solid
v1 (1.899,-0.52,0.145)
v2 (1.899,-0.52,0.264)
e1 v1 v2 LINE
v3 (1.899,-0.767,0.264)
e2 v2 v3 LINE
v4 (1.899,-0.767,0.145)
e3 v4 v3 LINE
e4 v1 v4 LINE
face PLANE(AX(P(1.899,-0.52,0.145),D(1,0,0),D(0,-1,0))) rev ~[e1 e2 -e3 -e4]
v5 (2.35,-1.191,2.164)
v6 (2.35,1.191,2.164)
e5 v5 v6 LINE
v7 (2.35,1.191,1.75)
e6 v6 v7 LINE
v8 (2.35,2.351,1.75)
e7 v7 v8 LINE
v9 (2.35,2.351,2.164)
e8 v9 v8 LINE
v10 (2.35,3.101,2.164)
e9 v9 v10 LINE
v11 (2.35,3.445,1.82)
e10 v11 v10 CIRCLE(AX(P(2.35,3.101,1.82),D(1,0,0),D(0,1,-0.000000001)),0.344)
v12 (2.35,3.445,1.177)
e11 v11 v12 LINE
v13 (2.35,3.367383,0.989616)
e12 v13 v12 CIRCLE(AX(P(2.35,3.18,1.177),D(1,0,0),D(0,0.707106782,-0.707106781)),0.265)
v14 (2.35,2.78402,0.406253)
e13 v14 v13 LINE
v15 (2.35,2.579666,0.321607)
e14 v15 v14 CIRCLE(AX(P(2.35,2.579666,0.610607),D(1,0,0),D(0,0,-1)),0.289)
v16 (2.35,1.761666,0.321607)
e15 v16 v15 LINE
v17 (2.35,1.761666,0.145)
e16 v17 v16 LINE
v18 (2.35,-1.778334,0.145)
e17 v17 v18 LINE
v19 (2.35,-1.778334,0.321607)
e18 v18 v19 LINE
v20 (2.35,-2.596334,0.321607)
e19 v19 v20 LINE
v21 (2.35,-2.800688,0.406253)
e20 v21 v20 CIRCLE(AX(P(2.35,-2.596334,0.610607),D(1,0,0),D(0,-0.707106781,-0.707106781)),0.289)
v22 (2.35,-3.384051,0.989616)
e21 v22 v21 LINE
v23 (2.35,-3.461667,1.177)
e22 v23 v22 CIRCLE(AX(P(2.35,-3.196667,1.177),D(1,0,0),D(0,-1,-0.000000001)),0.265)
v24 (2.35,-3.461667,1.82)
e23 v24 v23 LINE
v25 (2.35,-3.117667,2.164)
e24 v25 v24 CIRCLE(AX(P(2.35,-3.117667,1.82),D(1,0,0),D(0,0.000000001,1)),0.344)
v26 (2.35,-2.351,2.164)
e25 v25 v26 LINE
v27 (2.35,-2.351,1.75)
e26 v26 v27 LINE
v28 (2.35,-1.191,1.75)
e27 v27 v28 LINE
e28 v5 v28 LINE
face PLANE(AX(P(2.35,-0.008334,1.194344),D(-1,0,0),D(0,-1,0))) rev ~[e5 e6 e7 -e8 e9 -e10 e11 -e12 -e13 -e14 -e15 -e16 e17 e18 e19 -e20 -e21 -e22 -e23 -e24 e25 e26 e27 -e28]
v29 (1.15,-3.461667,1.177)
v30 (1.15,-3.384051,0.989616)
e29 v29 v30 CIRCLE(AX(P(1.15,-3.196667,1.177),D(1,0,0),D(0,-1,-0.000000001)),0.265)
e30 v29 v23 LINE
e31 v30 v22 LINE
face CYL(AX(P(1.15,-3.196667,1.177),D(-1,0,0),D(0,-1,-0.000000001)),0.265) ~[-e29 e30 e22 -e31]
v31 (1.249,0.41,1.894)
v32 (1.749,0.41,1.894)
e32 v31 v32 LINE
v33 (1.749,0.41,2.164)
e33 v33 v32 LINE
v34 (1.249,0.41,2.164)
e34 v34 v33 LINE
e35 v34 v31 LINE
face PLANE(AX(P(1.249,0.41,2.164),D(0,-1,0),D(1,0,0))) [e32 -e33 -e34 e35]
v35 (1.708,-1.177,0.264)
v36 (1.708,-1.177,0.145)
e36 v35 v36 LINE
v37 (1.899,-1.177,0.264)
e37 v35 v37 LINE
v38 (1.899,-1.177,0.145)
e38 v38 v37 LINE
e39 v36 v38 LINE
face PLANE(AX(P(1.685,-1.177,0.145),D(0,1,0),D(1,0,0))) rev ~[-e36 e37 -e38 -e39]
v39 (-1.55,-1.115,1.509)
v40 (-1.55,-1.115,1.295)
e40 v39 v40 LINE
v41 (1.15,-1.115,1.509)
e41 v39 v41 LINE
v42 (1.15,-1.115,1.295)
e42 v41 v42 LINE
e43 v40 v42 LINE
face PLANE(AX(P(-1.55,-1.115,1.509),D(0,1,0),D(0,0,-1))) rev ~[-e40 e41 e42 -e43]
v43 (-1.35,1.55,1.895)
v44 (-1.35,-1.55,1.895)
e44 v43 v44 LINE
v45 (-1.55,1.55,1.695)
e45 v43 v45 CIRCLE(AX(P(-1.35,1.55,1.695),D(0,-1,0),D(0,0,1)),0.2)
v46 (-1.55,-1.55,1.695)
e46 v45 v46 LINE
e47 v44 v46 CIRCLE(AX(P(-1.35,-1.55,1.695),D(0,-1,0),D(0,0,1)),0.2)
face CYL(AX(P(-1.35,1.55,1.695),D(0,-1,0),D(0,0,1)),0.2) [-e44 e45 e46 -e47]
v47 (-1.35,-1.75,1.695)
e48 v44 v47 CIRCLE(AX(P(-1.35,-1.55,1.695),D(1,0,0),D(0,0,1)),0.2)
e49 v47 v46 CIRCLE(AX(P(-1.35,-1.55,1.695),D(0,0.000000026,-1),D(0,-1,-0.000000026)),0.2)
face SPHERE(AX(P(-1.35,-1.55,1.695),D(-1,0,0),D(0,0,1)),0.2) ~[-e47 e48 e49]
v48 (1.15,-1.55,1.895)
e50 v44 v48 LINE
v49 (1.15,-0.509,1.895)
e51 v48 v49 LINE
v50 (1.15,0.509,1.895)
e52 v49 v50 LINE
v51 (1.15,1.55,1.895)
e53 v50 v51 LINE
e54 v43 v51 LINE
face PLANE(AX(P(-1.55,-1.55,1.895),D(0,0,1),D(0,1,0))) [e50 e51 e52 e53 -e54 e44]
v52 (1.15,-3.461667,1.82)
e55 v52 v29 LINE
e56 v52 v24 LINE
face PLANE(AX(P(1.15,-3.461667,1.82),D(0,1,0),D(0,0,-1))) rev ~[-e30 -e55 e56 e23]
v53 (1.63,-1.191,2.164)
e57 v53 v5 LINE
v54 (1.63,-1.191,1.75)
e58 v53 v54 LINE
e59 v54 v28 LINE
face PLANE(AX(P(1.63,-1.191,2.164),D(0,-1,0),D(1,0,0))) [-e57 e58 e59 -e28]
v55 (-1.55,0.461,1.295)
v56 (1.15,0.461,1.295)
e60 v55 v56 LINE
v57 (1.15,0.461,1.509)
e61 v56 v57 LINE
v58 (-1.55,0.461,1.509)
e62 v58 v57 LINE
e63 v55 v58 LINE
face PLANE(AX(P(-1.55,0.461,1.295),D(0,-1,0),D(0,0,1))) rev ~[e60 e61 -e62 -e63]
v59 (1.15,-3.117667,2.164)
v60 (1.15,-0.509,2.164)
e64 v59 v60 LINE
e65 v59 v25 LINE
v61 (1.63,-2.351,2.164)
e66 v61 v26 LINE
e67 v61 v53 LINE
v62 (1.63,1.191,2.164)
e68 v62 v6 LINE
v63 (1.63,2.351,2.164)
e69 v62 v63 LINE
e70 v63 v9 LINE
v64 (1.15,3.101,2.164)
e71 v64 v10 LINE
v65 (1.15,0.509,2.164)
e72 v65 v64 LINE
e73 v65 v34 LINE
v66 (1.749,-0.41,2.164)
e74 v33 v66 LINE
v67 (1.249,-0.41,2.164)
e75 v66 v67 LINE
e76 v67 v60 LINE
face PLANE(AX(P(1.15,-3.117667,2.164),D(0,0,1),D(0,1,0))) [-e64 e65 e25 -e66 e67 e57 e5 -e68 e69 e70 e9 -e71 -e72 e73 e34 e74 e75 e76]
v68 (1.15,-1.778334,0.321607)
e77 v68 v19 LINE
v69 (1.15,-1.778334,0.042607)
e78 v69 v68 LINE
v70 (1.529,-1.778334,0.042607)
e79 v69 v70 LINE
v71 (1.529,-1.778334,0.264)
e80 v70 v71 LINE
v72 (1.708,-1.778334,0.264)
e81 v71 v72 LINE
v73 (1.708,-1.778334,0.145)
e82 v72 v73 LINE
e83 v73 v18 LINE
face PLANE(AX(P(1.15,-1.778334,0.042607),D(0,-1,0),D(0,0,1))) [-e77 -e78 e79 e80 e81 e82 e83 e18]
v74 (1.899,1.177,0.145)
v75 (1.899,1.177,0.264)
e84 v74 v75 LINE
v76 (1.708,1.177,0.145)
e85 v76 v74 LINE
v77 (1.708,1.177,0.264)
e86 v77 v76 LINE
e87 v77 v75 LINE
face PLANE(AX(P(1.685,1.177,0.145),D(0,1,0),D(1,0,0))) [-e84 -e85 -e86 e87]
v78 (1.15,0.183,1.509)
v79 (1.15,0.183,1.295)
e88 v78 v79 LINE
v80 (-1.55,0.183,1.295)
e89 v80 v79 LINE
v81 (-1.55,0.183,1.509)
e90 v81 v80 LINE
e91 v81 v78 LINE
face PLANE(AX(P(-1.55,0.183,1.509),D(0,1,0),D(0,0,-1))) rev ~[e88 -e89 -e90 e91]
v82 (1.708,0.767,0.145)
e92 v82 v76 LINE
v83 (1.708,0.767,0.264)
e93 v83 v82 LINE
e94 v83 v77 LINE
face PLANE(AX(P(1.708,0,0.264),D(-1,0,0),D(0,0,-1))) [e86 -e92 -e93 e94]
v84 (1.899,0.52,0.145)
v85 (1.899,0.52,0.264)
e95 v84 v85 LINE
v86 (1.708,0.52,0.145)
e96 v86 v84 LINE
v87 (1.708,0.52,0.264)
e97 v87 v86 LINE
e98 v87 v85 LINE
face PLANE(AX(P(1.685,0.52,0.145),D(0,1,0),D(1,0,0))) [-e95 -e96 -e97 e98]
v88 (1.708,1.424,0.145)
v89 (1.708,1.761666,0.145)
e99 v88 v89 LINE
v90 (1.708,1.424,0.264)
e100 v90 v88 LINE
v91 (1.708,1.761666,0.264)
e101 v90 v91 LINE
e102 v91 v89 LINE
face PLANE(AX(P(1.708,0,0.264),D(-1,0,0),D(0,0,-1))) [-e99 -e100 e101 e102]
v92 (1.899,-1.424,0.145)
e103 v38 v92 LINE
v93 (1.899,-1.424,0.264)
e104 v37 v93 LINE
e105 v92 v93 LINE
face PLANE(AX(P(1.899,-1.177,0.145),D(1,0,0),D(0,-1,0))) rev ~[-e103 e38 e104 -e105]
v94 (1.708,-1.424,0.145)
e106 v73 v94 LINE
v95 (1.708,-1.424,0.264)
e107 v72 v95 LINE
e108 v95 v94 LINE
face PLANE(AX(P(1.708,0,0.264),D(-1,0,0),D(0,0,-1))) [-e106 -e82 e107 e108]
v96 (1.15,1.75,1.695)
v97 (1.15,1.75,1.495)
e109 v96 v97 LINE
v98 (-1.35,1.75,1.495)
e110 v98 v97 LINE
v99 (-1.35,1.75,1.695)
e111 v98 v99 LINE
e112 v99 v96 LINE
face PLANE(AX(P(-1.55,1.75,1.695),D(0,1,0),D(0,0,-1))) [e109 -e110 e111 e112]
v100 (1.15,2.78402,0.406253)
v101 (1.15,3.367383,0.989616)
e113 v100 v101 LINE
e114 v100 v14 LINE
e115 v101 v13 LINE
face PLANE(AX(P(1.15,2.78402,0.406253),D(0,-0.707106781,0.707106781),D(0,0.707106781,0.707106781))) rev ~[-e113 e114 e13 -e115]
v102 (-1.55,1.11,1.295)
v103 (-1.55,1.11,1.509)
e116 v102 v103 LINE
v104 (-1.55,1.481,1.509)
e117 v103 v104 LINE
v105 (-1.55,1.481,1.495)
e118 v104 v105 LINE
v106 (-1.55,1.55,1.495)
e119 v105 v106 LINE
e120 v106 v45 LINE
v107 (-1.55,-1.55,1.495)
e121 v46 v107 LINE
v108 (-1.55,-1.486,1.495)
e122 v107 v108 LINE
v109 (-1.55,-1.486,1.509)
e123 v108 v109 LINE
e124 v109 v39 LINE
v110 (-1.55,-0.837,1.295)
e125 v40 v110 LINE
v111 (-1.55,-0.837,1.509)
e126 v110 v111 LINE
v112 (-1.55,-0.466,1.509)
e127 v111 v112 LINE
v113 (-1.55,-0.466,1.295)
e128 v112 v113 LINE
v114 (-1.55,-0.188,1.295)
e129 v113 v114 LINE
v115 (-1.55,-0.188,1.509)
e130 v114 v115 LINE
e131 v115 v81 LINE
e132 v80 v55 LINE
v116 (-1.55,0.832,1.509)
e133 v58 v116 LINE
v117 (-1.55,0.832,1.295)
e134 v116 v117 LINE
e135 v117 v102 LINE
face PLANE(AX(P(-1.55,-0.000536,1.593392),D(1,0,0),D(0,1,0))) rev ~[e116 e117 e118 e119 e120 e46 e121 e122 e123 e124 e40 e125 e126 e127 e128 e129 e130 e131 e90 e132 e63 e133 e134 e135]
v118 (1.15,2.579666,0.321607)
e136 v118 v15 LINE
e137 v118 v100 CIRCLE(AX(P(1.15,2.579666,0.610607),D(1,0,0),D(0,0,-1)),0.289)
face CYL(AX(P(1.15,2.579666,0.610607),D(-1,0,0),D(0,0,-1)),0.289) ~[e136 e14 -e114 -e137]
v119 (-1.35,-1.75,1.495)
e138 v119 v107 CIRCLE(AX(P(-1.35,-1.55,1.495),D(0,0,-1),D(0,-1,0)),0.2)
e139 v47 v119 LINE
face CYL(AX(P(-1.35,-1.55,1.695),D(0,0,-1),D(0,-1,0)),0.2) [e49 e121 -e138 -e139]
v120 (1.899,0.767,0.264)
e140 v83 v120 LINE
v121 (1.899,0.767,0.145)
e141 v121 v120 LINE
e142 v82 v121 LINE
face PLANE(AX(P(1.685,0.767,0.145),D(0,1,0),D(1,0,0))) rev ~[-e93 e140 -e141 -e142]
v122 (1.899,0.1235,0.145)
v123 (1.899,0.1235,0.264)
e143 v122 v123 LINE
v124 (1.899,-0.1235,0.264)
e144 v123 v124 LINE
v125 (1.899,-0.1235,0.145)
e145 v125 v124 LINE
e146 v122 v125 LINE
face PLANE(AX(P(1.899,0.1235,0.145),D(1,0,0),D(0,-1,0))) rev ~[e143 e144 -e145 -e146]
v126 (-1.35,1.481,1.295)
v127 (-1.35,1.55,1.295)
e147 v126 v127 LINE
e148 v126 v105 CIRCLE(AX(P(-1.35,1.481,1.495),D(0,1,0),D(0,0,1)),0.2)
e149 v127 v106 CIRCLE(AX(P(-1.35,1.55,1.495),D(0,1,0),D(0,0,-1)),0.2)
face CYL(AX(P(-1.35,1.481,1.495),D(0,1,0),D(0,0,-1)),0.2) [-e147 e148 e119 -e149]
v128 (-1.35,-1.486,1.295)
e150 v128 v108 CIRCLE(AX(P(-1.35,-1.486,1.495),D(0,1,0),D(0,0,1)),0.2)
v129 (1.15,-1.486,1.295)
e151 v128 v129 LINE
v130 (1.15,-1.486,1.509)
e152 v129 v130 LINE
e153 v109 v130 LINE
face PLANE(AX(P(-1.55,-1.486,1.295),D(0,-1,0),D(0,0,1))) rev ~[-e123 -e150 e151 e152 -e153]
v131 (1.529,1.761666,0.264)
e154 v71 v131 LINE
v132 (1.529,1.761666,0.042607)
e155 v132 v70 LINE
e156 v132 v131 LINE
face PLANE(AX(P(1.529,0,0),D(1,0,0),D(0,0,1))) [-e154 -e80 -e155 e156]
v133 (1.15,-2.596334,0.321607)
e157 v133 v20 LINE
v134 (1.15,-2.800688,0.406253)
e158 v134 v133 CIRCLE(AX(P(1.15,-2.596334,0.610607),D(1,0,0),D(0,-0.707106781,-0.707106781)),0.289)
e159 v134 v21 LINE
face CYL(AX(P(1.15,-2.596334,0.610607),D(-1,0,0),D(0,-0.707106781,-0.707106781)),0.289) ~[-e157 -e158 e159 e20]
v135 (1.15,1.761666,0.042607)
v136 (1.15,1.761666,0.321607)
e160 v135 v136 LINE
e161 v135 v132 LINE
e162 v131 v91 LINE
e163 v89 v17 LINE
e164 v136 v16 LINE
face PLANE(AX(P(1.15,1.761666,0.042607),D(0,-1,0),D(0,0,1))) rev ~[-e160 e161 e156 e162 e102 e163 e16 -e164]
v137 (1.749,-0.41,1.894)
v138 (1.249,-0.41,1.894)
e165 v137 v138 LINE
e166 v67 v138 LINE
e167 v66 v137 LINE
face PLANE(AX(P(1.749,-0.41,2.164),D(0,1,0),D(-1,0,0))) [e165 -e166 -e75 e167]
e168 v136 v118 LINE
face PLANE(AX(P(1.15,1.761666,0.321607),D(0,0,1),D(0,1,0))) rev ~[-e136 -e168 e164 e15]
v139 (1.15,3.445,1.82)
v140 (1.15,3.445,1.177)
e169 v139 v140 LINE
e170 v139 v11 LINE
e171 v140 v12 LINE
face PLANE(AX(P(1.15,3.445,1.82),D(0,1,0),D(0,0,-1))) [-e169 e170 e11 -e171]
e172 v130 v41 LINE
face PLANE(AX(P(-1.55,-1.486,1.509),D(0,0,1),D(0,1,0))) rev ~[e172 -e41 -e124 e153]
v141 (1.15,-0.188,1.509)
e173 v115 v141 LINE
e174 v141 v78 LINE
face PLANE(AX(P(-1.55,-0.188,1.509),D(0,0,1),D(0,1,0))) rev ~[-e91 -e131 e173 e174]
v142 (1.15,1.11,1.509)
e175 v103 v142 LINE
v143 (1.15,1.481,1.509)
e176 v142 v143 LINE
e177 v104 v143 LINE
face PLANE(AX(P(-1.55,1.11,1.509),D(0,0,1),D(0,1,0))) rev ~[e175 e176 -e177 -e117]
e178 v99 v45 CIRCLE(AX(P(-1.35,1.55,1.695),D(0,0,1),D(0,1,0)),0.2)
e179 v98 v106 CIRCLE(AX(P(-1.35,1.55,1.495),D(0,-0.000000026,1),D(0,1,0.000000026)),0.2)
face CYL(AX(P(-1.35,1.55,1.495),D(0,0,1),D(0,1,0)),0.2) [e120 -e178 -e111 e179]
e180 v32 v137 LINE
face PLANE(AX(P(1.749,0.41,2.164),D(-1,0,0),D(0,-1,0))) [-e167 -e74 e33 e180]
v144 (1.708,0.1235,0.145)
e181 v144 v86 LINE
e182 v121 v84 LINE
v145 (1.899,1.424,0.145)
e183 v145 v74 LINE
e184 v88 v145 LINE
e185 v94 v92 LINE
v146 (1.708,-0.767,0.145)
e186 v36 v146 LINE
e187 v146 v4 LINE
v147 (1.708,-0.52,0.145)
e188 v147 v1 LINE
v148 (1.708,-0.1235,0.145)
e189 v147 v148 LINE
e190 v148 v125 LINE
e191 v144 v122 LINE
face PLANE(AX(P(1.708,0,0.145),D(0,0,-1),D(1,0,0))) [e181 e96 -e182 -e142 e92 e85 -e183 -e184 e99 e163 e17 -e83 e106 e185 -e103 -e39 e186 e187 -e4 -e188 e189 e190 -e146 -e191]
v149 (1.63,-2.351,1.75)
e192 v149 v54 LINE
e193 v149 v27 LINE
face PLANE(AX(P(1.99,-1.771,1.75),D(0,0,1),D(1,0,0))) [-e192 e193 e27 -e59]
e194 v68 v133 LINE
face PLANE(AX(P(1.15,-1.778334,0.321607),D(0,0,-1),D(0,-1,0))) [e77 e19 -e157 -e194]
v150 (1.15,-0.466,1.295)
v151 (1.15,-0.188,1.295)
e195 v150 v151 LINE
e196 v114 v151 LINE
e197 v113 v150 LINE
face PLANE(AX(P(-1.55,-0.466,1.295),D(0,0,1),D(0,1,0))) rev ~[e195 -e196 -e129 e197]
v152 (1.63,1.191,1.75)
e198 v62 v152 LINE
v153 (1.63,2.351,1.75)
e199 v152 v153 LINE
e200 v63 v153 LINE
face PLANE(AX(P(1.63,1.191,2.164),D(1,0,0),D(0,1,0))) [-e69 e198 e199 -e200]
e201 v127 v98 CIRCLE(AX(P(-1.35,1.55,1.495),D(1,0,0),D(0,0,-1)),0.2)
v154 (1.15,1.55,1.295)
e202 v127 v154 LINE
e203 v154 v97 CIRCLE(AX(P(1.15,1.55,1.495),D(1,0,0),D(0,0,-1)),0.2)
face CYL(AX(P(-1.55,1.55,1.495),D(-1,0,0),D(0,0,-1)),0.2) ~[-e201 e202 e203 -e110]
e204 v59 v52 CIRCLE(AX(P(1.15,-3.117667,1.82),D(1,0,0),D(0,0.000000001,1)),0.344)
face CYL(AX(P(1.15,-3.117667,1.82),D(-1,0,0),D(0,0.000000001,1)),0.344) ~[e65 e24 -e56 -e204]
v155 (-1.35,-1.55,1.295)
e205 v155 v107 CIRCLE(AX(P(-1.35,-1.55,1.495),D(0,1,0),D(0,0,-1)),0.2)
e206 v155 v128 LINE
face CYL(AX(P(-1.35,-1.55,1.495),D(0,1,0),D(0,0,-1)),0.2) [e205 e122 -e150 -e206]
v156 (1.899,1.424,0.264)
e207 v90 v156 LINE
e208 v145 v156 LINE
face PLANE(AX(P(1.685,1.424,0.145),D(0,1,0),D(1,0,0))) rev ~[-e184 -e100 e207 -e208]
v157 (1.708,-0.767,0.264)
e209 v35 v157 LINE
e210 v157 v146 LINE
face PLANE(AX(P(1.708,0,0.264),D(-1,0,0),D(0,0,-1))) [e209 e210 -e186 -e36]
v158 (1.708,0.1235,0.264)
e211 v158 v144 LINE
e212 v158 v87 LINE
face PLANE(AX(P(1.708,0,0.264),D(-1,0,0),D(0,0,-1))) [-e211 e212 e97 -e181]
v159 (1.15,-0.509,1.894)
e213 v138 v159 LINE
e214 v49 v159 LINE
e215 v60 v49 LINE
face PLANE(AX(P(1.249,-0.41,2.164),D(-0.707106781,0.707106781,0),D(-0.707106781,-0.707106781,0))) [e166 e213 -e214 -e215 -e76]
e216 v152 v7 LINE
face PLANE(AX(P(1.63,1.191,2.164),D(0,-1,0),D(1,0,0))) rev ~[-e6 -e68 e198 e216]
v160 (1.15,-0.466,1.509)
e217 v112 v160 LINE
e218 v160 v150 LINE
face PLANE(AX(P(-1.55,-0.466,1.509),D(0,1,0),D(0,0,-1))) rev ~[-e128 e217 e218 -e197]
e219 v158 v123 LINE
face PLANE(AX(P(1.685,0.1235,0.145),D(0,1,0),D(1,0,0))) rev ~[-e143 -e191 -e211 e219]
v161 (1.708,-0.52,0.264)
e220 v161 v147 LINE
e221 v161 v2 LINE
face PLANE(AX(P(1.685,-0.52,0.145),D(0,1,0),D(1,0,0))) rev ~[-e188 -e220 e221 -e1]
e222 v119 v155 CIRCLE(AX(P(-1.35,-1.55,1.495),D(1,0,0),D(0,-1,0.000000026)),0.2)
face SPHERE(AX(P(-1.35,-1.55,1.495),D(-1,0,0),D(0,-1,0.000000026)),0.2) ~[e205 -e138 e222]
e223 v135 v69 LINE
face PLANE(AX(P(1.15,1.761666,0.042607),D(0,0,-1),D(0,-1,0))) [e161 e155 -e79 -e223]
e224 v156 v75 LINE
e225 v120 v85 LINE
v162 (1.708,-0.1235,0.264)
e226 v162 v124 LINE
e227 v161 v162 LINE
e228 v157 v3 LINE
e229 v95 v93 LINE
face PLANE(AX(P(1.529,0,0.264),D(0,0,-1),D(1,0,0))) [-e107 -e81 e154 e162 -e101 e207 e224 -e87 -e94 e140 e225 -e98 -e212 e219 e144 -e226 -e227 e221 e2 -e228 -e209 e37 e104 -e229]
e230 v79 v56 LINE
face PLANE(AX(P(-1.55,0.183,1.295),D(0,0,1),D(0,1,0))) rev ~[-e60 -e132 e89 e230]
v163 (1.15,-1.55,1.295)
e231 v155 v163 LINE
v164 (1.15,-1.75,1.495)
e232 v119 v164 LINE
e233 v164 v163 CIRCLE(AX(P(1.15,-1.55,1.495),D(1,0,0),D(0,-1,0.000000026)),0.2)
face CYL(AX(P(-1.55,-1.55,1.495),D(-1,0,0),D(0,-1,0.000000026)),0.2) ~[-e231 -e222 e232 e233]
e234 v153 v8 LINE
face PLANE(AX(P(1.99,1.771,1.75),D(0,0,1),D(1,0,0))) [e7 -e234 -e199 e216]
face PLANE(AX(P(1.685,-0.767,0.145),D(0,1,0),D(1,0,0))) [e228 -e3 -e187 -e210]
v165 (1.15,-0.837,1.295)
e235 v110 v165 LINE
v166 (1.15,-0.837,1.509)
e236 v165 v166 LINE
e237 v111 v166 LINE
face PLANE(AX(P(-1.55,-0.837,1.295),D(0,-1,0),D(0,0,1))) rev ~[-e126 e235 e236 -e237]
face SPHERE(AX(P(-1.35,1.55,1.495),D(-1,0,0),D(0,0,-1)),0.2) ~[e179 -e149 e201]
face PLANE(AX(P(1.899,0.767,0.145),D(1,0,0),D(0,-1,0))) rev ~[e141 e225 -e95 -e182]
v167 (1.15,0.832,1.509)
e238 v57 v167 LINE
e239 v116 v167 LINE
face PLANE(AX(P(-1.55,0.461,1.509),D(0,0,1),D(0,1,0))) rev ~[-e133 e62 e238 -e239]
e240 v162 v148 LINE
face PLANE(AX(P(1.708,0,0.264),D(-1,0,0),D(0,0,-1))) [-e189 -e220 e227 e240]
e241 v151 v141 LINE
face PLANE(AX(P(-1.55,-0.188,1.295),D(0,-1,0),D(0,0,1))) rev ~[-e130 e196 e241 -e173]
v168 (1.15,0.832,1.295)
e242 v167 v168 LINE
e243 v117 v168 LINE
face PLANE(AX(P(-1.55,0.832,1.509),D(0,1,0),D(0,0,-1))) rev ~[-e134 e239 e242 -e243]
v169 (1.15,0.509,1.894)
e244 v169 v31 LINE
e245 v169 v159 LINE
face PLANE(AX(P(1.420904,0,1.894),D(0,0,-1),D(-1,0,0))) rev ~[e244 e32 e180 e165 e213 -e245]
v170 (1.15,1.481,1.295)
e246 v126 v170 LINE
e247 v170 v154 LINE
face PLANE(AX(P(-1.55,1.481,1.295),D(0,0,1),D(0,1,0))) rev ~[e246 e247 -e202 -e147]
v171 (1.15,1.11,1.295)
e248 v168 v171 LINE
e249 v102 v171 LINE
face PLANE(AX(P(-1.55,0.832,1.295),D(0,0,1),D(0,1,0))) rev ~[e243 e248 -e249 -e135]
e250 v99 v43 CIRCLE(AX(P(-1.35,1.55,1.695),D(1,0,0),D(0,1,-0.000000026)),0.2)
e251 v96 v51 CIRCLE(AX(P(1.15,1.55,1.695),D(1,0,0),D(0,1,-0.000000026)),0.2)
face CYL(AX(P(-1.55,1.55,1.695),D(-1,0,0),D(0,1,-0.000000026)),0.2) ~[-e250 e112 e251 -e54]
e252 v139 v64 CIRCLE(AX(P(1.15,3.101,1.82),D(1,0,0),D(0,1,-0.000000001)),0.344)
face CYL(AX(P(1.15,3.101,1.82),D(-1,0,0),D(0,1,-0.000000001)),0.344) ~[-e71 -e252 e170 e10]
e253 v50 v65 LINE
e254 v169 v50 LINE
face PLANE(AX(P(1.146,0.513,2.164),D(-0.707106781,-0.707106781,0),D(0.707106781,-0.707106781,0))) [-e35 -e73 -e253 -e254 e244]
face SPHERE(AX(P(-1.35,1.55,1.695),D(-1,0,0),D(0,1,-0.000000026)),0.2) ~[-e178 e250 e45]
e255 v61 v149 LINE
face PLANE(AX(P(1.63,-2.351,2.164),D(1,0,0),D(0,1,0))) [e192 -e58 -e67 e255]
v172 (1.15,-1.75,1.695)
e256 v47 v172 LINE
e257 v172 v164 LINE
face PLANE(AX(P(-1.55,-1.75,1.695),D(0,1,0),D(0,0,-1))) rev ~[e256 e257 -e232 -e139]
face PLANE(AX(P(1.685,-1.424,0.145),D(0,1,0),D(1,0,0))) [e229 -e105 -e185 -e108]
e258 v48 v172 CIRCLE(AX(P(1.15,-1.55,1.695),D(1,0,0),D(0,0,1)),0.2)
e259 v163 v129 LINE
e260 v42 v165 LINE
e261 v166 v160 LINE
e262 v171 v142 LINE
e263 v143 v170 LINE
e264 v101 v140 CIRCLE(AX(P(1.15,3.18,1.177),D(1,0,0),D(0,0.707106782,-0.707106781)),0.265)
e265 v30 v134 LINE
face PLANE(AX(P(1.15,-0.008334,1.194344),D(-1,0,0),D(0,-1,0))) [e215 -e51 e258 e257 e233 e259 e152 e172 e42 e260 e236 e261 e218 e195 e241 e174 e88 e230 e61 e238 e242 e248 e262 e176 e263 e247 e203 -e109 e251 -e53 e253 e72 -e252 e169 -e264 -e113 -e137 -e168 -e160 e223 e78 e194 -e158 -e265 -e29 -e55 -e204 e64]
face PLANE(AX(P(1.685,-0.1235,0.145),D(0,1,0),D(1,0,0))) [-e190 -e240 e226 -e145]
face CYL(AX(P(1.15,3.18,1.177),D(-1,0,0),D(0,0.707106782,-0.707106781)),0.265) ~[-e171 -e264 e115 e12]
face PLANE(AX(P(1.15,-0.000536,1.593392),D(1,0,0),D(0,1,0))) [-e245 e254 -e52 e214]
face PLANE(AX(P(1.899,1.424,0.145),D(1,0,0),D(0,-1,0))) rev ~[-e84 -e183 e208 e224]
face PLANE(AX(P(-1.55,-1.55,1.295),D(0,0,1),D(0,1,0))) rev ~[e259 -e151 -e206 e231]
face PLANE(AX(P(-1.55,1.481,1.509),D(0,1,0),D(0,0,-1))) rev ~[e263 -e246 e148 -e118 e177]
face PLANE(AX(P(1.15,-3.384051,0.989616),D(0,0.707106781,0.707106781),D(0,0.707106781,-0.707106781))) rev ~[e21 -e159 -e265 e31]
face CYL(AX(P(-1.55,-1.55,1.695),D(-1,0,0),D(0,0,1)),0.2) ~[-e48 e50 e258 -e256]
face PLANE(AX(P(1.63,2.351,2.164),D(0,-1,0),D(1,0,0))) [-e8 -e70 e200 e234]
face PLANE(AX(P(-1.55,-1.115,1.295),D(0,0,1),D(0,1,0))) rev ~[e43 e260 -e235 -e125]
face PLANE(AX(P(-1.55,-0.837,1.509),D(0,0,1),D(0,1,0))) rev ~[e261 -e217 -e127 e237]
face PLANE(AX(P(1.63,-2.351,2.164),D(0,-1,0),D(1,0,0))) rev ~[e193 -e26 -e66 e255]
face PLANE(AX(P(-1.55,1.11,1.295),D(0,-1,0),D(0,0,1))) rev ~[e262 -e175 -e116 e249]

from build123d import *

# Parameters (mm, degrees)
PAD009_DEPTH    = 1.8
PAD008_DEPTH    = 1.2
SKETCH018_W     = 0.214
SKETCH018_H     = 0.247
POCKET007_DEPTH = 0.119
SKETCH019_W     = 0.72
SKETCH019_H     = 1.16
POCKET008_DEPTH = 0.414
POCKET009_DEPTH = 0.27
PAD013_DEPTH    = 2.7
FILLET001_R     = 0.2


with BuildPart() as pad009:
    # Sketch017 → Pad009 (new body, symmetric)
    with BuildSketch(Plane.XZ):
        Polygon((1.529, 0), (1.529, 0.264), (1.708, 0.264), (1.708, 0.145), (2.358, 0.145), (2.358, 0), align=None)
    extrude(amount=PAD009_DEPTH, both=True)


with BuildPart() as part_back:
    # Sketch016 → Pad008 (new body)
    with BuildSketch(Plane(origin=(1.1499999635, -0.0083336435, -0.0078429583), x_dir=(0, 1, 0), z_dir=(1, 0, 0))):
        with BuildLine():
            Line((-3.1093336572, 2.1718425317), (3.1093336572, 2.1718425317))
            ThreePointArc((3.4533336572, 1.8278425317), (3.35257839, 2.0710872645), (3.1093336572, 2.1718425317))
            Line((3.4533336572, 1.8278425317), (3.4533336572, 1.1848425317))
            ThreePointArc((3.3757169542, 0.9974592347), (3.4331617333, 1.0834314222), (3.4533336572, 1.1848425317))
            Line((2.7923538598, 0.4140961402), (3.3757169542, 0.9974592347))
            ThreePointArc((2.588, 0.32945), (2.698595512, 0.3514488151), (2.7923538598, 0.4140961402))
            Line((1.77, 0.32945), (2.588, 0.32945))
            Line((1.77, 0.05045), (1.77, 0.32945))
            Line((1.77, 0.05045), (-1.77, 0.05045))
            Line((-1.77, 0.05045), (-1.77, 0.32945))
            Line((-1.77, 0.32945), (-2.588, 0.32945))
            ThreePointArc((-2.7923538598, 0.4140961402), (-2.698595512, 0.3514488151), (-2.588, 0.32945))
            Line((-3.3757169542, 0.9974592347), (-2.7923538598, 0.4140961402))
            ThreePointArc((-3.4533336572, 1.1848425317), (-3.4331617333, 1.0834314222), (-3.3757169542, 0.9974592347))
            Line((-3.4533336572, 1.8278425317), (-3.4533336572, 1.1848425317))
            ThreePointArc((-3.1093336572, 2.1718425317), (-3.35257839, 2.0710872645), (-3.4533336572, 1.8278425317))
        make_face()
    extrude(amount=PAD008_DEPTH)

    # Cut: cut Pad009
    add(pad009.part, mode=Mode.SUBTRACT)

    # Sketch018 (on Face19 of Cut) → Pocket007 (cut)
    with BuildSketch(Plane(origin=(0, 0, 0.145), x_dir=(1, 0, 0), z_dir=(0, 0, -1))):
        with Locations((1.792, -1.3005)):
            Rectangle(SKETCH018_W, SKETCH018_H)
        with Locations((1.792, -0.6435)):
            Rectangle(SKETCH018_W, SKETCH018_H)
        with Locations((1.792, 0)):
            Rectangle(SKETCH018_W, SKETCH018_H)
        with Locations((1.792, 0.6435)):
            Rectangle(SKETCH018_W, SKETCH018_H)
        with Locations((1.792, 1.3005)):
            Rectangle(SKETCH018_W, SKETCH018_H)
    extrude(amount=-POCKET007_DEPTH, mode=Mode.SUBTRACT)

    # Sketch019 (on Face2 of Pocket007) → Pocket008 (cut)
    with BuildSketch(Plane.XY.offset(2.1639995734)):
        with Locations((1.9899999635, -1.771)):
            Rectangle(SKETCH019_W, SKETCH019_H)
        with Locations((1.9899999635, 1.771)):
            Rectangle(SKETCH019_W, SKETCH019_H)
    extrude(amount=-POCKET008_DEPTH, mode=Mode.SUBTRACT)

    # Sketch020 (on Face2 of Pocket008) → Pocket009 (cut)
    with BuildSketch(Plane.XY.offset(2.1639995734)):
        Polygon((1.249, 0.41), (1.749, 0.41), (1.749, -0.41), (1.249, -0.41), (1.146, -0.513), (1.146, 0.513), align=None)
    extrude(amount=-POCKET009_DEPTH, mode=Mode.SUBTRACT)


with BuildPart() as inner:
    # Sketch029 → Pad013 (new body)
    with BuildSketch(Plane(origin=(-1.5500000108, 1.37e-08, -0.0050004214), x_dir=(0, 1, 0), z_dir=(1, 0, 0))):
        with BuildLine():
            Line((-1.75, 1.6999999949), (-1.75, 1.5000000051))
            ThreePointArc((-1.75, 1.5000000051), (-1.6914213581, 1.3585786456), (-1.55, 1.3))
            Line((-1.55, 1.3), (-1.486, 1.3))
            Line((-1.486, 1.3), (-1.486, 1.514))
            Line((-1.486, 1.514), (-1.115, 1.514))
            Line((-1.115, 1.514), (-1.115, 1.3))
            Line((-1.115, 1.3), (-0.837, 1.3))
            Line((-0.837, 1.3), (-0.837, 1.514))
            Line((-0.837, 1.514), (-0.466, 1.514))
            Line((-0.466, 1.514), (-0.466, 1.3))
            Line((-0.466, 1.3), (-0.188, 1.3))
            Line((-0.188, 1.3), (-0.188, 1.514))
            Line((-0.188, 1.514), (0.183, 1.514))
            Line((0.183, 1.514), (0.183, 1.3))
            Line((0.183, 1.3), (0.461, 1.3))
            Line((0.461, 1.3), (0.461, 1.514))
            Line((0.461, 1.514), (0.832, 1.514))
            Line((0.832, 1.514), (0.832, 1.3))
            Line((0.832, 1.3), (1.11, 1.3))
            Line((1.11, 1.3), (1.11, 1.514))
            Line((1.11, 1.514), (1.481, 1.514))
            Line((1.481, 1.514), (1.481, 1.3))
            Line((1.481, 1.3), (1.55, 1.3))
            ThreePointArc((1.55, 1.3), (1.6914213581, 1.3585786456), (1.75, 1.5000000051))
            Line((1.75, 1.6999999949), (1.75, 1.5000000051))
            ThreePointArc((1.75, 1.6999999949), (1.6914213581, 1.8414213544), (1.55, 1.9))
            Line((-1.55, 1.9), (1.55, 1.9))
            ThreePointArc((-1.55, 1.9), (-1.6914213581, 1.8414213544), (-1.75, 1.6999999949))
        make_face()
    extrude(amount=PAD013_DEPTH)

    # Fillet001
    fillet001_edges = [inner.edges().sort_by_distance(p)[0] for p in [
        (-1.55, -1.75, 1.595),
        (-1.55, -1.691421, 1.353578),
        (-1.55, 1.691421, 1.353578),
        (-1.55, 1.75, 1.595),
        (-1.55, 1.691421, 1.836421),
        (-1.55, 0, 1.895),
        (-1.55, -1.691421, 1.836421),
    ]]
    fillet(fillet001_edges, radius=FILLET001_R)

    # Fusion002: union Part-back
    add(part_back.part)


solid = inner.part
